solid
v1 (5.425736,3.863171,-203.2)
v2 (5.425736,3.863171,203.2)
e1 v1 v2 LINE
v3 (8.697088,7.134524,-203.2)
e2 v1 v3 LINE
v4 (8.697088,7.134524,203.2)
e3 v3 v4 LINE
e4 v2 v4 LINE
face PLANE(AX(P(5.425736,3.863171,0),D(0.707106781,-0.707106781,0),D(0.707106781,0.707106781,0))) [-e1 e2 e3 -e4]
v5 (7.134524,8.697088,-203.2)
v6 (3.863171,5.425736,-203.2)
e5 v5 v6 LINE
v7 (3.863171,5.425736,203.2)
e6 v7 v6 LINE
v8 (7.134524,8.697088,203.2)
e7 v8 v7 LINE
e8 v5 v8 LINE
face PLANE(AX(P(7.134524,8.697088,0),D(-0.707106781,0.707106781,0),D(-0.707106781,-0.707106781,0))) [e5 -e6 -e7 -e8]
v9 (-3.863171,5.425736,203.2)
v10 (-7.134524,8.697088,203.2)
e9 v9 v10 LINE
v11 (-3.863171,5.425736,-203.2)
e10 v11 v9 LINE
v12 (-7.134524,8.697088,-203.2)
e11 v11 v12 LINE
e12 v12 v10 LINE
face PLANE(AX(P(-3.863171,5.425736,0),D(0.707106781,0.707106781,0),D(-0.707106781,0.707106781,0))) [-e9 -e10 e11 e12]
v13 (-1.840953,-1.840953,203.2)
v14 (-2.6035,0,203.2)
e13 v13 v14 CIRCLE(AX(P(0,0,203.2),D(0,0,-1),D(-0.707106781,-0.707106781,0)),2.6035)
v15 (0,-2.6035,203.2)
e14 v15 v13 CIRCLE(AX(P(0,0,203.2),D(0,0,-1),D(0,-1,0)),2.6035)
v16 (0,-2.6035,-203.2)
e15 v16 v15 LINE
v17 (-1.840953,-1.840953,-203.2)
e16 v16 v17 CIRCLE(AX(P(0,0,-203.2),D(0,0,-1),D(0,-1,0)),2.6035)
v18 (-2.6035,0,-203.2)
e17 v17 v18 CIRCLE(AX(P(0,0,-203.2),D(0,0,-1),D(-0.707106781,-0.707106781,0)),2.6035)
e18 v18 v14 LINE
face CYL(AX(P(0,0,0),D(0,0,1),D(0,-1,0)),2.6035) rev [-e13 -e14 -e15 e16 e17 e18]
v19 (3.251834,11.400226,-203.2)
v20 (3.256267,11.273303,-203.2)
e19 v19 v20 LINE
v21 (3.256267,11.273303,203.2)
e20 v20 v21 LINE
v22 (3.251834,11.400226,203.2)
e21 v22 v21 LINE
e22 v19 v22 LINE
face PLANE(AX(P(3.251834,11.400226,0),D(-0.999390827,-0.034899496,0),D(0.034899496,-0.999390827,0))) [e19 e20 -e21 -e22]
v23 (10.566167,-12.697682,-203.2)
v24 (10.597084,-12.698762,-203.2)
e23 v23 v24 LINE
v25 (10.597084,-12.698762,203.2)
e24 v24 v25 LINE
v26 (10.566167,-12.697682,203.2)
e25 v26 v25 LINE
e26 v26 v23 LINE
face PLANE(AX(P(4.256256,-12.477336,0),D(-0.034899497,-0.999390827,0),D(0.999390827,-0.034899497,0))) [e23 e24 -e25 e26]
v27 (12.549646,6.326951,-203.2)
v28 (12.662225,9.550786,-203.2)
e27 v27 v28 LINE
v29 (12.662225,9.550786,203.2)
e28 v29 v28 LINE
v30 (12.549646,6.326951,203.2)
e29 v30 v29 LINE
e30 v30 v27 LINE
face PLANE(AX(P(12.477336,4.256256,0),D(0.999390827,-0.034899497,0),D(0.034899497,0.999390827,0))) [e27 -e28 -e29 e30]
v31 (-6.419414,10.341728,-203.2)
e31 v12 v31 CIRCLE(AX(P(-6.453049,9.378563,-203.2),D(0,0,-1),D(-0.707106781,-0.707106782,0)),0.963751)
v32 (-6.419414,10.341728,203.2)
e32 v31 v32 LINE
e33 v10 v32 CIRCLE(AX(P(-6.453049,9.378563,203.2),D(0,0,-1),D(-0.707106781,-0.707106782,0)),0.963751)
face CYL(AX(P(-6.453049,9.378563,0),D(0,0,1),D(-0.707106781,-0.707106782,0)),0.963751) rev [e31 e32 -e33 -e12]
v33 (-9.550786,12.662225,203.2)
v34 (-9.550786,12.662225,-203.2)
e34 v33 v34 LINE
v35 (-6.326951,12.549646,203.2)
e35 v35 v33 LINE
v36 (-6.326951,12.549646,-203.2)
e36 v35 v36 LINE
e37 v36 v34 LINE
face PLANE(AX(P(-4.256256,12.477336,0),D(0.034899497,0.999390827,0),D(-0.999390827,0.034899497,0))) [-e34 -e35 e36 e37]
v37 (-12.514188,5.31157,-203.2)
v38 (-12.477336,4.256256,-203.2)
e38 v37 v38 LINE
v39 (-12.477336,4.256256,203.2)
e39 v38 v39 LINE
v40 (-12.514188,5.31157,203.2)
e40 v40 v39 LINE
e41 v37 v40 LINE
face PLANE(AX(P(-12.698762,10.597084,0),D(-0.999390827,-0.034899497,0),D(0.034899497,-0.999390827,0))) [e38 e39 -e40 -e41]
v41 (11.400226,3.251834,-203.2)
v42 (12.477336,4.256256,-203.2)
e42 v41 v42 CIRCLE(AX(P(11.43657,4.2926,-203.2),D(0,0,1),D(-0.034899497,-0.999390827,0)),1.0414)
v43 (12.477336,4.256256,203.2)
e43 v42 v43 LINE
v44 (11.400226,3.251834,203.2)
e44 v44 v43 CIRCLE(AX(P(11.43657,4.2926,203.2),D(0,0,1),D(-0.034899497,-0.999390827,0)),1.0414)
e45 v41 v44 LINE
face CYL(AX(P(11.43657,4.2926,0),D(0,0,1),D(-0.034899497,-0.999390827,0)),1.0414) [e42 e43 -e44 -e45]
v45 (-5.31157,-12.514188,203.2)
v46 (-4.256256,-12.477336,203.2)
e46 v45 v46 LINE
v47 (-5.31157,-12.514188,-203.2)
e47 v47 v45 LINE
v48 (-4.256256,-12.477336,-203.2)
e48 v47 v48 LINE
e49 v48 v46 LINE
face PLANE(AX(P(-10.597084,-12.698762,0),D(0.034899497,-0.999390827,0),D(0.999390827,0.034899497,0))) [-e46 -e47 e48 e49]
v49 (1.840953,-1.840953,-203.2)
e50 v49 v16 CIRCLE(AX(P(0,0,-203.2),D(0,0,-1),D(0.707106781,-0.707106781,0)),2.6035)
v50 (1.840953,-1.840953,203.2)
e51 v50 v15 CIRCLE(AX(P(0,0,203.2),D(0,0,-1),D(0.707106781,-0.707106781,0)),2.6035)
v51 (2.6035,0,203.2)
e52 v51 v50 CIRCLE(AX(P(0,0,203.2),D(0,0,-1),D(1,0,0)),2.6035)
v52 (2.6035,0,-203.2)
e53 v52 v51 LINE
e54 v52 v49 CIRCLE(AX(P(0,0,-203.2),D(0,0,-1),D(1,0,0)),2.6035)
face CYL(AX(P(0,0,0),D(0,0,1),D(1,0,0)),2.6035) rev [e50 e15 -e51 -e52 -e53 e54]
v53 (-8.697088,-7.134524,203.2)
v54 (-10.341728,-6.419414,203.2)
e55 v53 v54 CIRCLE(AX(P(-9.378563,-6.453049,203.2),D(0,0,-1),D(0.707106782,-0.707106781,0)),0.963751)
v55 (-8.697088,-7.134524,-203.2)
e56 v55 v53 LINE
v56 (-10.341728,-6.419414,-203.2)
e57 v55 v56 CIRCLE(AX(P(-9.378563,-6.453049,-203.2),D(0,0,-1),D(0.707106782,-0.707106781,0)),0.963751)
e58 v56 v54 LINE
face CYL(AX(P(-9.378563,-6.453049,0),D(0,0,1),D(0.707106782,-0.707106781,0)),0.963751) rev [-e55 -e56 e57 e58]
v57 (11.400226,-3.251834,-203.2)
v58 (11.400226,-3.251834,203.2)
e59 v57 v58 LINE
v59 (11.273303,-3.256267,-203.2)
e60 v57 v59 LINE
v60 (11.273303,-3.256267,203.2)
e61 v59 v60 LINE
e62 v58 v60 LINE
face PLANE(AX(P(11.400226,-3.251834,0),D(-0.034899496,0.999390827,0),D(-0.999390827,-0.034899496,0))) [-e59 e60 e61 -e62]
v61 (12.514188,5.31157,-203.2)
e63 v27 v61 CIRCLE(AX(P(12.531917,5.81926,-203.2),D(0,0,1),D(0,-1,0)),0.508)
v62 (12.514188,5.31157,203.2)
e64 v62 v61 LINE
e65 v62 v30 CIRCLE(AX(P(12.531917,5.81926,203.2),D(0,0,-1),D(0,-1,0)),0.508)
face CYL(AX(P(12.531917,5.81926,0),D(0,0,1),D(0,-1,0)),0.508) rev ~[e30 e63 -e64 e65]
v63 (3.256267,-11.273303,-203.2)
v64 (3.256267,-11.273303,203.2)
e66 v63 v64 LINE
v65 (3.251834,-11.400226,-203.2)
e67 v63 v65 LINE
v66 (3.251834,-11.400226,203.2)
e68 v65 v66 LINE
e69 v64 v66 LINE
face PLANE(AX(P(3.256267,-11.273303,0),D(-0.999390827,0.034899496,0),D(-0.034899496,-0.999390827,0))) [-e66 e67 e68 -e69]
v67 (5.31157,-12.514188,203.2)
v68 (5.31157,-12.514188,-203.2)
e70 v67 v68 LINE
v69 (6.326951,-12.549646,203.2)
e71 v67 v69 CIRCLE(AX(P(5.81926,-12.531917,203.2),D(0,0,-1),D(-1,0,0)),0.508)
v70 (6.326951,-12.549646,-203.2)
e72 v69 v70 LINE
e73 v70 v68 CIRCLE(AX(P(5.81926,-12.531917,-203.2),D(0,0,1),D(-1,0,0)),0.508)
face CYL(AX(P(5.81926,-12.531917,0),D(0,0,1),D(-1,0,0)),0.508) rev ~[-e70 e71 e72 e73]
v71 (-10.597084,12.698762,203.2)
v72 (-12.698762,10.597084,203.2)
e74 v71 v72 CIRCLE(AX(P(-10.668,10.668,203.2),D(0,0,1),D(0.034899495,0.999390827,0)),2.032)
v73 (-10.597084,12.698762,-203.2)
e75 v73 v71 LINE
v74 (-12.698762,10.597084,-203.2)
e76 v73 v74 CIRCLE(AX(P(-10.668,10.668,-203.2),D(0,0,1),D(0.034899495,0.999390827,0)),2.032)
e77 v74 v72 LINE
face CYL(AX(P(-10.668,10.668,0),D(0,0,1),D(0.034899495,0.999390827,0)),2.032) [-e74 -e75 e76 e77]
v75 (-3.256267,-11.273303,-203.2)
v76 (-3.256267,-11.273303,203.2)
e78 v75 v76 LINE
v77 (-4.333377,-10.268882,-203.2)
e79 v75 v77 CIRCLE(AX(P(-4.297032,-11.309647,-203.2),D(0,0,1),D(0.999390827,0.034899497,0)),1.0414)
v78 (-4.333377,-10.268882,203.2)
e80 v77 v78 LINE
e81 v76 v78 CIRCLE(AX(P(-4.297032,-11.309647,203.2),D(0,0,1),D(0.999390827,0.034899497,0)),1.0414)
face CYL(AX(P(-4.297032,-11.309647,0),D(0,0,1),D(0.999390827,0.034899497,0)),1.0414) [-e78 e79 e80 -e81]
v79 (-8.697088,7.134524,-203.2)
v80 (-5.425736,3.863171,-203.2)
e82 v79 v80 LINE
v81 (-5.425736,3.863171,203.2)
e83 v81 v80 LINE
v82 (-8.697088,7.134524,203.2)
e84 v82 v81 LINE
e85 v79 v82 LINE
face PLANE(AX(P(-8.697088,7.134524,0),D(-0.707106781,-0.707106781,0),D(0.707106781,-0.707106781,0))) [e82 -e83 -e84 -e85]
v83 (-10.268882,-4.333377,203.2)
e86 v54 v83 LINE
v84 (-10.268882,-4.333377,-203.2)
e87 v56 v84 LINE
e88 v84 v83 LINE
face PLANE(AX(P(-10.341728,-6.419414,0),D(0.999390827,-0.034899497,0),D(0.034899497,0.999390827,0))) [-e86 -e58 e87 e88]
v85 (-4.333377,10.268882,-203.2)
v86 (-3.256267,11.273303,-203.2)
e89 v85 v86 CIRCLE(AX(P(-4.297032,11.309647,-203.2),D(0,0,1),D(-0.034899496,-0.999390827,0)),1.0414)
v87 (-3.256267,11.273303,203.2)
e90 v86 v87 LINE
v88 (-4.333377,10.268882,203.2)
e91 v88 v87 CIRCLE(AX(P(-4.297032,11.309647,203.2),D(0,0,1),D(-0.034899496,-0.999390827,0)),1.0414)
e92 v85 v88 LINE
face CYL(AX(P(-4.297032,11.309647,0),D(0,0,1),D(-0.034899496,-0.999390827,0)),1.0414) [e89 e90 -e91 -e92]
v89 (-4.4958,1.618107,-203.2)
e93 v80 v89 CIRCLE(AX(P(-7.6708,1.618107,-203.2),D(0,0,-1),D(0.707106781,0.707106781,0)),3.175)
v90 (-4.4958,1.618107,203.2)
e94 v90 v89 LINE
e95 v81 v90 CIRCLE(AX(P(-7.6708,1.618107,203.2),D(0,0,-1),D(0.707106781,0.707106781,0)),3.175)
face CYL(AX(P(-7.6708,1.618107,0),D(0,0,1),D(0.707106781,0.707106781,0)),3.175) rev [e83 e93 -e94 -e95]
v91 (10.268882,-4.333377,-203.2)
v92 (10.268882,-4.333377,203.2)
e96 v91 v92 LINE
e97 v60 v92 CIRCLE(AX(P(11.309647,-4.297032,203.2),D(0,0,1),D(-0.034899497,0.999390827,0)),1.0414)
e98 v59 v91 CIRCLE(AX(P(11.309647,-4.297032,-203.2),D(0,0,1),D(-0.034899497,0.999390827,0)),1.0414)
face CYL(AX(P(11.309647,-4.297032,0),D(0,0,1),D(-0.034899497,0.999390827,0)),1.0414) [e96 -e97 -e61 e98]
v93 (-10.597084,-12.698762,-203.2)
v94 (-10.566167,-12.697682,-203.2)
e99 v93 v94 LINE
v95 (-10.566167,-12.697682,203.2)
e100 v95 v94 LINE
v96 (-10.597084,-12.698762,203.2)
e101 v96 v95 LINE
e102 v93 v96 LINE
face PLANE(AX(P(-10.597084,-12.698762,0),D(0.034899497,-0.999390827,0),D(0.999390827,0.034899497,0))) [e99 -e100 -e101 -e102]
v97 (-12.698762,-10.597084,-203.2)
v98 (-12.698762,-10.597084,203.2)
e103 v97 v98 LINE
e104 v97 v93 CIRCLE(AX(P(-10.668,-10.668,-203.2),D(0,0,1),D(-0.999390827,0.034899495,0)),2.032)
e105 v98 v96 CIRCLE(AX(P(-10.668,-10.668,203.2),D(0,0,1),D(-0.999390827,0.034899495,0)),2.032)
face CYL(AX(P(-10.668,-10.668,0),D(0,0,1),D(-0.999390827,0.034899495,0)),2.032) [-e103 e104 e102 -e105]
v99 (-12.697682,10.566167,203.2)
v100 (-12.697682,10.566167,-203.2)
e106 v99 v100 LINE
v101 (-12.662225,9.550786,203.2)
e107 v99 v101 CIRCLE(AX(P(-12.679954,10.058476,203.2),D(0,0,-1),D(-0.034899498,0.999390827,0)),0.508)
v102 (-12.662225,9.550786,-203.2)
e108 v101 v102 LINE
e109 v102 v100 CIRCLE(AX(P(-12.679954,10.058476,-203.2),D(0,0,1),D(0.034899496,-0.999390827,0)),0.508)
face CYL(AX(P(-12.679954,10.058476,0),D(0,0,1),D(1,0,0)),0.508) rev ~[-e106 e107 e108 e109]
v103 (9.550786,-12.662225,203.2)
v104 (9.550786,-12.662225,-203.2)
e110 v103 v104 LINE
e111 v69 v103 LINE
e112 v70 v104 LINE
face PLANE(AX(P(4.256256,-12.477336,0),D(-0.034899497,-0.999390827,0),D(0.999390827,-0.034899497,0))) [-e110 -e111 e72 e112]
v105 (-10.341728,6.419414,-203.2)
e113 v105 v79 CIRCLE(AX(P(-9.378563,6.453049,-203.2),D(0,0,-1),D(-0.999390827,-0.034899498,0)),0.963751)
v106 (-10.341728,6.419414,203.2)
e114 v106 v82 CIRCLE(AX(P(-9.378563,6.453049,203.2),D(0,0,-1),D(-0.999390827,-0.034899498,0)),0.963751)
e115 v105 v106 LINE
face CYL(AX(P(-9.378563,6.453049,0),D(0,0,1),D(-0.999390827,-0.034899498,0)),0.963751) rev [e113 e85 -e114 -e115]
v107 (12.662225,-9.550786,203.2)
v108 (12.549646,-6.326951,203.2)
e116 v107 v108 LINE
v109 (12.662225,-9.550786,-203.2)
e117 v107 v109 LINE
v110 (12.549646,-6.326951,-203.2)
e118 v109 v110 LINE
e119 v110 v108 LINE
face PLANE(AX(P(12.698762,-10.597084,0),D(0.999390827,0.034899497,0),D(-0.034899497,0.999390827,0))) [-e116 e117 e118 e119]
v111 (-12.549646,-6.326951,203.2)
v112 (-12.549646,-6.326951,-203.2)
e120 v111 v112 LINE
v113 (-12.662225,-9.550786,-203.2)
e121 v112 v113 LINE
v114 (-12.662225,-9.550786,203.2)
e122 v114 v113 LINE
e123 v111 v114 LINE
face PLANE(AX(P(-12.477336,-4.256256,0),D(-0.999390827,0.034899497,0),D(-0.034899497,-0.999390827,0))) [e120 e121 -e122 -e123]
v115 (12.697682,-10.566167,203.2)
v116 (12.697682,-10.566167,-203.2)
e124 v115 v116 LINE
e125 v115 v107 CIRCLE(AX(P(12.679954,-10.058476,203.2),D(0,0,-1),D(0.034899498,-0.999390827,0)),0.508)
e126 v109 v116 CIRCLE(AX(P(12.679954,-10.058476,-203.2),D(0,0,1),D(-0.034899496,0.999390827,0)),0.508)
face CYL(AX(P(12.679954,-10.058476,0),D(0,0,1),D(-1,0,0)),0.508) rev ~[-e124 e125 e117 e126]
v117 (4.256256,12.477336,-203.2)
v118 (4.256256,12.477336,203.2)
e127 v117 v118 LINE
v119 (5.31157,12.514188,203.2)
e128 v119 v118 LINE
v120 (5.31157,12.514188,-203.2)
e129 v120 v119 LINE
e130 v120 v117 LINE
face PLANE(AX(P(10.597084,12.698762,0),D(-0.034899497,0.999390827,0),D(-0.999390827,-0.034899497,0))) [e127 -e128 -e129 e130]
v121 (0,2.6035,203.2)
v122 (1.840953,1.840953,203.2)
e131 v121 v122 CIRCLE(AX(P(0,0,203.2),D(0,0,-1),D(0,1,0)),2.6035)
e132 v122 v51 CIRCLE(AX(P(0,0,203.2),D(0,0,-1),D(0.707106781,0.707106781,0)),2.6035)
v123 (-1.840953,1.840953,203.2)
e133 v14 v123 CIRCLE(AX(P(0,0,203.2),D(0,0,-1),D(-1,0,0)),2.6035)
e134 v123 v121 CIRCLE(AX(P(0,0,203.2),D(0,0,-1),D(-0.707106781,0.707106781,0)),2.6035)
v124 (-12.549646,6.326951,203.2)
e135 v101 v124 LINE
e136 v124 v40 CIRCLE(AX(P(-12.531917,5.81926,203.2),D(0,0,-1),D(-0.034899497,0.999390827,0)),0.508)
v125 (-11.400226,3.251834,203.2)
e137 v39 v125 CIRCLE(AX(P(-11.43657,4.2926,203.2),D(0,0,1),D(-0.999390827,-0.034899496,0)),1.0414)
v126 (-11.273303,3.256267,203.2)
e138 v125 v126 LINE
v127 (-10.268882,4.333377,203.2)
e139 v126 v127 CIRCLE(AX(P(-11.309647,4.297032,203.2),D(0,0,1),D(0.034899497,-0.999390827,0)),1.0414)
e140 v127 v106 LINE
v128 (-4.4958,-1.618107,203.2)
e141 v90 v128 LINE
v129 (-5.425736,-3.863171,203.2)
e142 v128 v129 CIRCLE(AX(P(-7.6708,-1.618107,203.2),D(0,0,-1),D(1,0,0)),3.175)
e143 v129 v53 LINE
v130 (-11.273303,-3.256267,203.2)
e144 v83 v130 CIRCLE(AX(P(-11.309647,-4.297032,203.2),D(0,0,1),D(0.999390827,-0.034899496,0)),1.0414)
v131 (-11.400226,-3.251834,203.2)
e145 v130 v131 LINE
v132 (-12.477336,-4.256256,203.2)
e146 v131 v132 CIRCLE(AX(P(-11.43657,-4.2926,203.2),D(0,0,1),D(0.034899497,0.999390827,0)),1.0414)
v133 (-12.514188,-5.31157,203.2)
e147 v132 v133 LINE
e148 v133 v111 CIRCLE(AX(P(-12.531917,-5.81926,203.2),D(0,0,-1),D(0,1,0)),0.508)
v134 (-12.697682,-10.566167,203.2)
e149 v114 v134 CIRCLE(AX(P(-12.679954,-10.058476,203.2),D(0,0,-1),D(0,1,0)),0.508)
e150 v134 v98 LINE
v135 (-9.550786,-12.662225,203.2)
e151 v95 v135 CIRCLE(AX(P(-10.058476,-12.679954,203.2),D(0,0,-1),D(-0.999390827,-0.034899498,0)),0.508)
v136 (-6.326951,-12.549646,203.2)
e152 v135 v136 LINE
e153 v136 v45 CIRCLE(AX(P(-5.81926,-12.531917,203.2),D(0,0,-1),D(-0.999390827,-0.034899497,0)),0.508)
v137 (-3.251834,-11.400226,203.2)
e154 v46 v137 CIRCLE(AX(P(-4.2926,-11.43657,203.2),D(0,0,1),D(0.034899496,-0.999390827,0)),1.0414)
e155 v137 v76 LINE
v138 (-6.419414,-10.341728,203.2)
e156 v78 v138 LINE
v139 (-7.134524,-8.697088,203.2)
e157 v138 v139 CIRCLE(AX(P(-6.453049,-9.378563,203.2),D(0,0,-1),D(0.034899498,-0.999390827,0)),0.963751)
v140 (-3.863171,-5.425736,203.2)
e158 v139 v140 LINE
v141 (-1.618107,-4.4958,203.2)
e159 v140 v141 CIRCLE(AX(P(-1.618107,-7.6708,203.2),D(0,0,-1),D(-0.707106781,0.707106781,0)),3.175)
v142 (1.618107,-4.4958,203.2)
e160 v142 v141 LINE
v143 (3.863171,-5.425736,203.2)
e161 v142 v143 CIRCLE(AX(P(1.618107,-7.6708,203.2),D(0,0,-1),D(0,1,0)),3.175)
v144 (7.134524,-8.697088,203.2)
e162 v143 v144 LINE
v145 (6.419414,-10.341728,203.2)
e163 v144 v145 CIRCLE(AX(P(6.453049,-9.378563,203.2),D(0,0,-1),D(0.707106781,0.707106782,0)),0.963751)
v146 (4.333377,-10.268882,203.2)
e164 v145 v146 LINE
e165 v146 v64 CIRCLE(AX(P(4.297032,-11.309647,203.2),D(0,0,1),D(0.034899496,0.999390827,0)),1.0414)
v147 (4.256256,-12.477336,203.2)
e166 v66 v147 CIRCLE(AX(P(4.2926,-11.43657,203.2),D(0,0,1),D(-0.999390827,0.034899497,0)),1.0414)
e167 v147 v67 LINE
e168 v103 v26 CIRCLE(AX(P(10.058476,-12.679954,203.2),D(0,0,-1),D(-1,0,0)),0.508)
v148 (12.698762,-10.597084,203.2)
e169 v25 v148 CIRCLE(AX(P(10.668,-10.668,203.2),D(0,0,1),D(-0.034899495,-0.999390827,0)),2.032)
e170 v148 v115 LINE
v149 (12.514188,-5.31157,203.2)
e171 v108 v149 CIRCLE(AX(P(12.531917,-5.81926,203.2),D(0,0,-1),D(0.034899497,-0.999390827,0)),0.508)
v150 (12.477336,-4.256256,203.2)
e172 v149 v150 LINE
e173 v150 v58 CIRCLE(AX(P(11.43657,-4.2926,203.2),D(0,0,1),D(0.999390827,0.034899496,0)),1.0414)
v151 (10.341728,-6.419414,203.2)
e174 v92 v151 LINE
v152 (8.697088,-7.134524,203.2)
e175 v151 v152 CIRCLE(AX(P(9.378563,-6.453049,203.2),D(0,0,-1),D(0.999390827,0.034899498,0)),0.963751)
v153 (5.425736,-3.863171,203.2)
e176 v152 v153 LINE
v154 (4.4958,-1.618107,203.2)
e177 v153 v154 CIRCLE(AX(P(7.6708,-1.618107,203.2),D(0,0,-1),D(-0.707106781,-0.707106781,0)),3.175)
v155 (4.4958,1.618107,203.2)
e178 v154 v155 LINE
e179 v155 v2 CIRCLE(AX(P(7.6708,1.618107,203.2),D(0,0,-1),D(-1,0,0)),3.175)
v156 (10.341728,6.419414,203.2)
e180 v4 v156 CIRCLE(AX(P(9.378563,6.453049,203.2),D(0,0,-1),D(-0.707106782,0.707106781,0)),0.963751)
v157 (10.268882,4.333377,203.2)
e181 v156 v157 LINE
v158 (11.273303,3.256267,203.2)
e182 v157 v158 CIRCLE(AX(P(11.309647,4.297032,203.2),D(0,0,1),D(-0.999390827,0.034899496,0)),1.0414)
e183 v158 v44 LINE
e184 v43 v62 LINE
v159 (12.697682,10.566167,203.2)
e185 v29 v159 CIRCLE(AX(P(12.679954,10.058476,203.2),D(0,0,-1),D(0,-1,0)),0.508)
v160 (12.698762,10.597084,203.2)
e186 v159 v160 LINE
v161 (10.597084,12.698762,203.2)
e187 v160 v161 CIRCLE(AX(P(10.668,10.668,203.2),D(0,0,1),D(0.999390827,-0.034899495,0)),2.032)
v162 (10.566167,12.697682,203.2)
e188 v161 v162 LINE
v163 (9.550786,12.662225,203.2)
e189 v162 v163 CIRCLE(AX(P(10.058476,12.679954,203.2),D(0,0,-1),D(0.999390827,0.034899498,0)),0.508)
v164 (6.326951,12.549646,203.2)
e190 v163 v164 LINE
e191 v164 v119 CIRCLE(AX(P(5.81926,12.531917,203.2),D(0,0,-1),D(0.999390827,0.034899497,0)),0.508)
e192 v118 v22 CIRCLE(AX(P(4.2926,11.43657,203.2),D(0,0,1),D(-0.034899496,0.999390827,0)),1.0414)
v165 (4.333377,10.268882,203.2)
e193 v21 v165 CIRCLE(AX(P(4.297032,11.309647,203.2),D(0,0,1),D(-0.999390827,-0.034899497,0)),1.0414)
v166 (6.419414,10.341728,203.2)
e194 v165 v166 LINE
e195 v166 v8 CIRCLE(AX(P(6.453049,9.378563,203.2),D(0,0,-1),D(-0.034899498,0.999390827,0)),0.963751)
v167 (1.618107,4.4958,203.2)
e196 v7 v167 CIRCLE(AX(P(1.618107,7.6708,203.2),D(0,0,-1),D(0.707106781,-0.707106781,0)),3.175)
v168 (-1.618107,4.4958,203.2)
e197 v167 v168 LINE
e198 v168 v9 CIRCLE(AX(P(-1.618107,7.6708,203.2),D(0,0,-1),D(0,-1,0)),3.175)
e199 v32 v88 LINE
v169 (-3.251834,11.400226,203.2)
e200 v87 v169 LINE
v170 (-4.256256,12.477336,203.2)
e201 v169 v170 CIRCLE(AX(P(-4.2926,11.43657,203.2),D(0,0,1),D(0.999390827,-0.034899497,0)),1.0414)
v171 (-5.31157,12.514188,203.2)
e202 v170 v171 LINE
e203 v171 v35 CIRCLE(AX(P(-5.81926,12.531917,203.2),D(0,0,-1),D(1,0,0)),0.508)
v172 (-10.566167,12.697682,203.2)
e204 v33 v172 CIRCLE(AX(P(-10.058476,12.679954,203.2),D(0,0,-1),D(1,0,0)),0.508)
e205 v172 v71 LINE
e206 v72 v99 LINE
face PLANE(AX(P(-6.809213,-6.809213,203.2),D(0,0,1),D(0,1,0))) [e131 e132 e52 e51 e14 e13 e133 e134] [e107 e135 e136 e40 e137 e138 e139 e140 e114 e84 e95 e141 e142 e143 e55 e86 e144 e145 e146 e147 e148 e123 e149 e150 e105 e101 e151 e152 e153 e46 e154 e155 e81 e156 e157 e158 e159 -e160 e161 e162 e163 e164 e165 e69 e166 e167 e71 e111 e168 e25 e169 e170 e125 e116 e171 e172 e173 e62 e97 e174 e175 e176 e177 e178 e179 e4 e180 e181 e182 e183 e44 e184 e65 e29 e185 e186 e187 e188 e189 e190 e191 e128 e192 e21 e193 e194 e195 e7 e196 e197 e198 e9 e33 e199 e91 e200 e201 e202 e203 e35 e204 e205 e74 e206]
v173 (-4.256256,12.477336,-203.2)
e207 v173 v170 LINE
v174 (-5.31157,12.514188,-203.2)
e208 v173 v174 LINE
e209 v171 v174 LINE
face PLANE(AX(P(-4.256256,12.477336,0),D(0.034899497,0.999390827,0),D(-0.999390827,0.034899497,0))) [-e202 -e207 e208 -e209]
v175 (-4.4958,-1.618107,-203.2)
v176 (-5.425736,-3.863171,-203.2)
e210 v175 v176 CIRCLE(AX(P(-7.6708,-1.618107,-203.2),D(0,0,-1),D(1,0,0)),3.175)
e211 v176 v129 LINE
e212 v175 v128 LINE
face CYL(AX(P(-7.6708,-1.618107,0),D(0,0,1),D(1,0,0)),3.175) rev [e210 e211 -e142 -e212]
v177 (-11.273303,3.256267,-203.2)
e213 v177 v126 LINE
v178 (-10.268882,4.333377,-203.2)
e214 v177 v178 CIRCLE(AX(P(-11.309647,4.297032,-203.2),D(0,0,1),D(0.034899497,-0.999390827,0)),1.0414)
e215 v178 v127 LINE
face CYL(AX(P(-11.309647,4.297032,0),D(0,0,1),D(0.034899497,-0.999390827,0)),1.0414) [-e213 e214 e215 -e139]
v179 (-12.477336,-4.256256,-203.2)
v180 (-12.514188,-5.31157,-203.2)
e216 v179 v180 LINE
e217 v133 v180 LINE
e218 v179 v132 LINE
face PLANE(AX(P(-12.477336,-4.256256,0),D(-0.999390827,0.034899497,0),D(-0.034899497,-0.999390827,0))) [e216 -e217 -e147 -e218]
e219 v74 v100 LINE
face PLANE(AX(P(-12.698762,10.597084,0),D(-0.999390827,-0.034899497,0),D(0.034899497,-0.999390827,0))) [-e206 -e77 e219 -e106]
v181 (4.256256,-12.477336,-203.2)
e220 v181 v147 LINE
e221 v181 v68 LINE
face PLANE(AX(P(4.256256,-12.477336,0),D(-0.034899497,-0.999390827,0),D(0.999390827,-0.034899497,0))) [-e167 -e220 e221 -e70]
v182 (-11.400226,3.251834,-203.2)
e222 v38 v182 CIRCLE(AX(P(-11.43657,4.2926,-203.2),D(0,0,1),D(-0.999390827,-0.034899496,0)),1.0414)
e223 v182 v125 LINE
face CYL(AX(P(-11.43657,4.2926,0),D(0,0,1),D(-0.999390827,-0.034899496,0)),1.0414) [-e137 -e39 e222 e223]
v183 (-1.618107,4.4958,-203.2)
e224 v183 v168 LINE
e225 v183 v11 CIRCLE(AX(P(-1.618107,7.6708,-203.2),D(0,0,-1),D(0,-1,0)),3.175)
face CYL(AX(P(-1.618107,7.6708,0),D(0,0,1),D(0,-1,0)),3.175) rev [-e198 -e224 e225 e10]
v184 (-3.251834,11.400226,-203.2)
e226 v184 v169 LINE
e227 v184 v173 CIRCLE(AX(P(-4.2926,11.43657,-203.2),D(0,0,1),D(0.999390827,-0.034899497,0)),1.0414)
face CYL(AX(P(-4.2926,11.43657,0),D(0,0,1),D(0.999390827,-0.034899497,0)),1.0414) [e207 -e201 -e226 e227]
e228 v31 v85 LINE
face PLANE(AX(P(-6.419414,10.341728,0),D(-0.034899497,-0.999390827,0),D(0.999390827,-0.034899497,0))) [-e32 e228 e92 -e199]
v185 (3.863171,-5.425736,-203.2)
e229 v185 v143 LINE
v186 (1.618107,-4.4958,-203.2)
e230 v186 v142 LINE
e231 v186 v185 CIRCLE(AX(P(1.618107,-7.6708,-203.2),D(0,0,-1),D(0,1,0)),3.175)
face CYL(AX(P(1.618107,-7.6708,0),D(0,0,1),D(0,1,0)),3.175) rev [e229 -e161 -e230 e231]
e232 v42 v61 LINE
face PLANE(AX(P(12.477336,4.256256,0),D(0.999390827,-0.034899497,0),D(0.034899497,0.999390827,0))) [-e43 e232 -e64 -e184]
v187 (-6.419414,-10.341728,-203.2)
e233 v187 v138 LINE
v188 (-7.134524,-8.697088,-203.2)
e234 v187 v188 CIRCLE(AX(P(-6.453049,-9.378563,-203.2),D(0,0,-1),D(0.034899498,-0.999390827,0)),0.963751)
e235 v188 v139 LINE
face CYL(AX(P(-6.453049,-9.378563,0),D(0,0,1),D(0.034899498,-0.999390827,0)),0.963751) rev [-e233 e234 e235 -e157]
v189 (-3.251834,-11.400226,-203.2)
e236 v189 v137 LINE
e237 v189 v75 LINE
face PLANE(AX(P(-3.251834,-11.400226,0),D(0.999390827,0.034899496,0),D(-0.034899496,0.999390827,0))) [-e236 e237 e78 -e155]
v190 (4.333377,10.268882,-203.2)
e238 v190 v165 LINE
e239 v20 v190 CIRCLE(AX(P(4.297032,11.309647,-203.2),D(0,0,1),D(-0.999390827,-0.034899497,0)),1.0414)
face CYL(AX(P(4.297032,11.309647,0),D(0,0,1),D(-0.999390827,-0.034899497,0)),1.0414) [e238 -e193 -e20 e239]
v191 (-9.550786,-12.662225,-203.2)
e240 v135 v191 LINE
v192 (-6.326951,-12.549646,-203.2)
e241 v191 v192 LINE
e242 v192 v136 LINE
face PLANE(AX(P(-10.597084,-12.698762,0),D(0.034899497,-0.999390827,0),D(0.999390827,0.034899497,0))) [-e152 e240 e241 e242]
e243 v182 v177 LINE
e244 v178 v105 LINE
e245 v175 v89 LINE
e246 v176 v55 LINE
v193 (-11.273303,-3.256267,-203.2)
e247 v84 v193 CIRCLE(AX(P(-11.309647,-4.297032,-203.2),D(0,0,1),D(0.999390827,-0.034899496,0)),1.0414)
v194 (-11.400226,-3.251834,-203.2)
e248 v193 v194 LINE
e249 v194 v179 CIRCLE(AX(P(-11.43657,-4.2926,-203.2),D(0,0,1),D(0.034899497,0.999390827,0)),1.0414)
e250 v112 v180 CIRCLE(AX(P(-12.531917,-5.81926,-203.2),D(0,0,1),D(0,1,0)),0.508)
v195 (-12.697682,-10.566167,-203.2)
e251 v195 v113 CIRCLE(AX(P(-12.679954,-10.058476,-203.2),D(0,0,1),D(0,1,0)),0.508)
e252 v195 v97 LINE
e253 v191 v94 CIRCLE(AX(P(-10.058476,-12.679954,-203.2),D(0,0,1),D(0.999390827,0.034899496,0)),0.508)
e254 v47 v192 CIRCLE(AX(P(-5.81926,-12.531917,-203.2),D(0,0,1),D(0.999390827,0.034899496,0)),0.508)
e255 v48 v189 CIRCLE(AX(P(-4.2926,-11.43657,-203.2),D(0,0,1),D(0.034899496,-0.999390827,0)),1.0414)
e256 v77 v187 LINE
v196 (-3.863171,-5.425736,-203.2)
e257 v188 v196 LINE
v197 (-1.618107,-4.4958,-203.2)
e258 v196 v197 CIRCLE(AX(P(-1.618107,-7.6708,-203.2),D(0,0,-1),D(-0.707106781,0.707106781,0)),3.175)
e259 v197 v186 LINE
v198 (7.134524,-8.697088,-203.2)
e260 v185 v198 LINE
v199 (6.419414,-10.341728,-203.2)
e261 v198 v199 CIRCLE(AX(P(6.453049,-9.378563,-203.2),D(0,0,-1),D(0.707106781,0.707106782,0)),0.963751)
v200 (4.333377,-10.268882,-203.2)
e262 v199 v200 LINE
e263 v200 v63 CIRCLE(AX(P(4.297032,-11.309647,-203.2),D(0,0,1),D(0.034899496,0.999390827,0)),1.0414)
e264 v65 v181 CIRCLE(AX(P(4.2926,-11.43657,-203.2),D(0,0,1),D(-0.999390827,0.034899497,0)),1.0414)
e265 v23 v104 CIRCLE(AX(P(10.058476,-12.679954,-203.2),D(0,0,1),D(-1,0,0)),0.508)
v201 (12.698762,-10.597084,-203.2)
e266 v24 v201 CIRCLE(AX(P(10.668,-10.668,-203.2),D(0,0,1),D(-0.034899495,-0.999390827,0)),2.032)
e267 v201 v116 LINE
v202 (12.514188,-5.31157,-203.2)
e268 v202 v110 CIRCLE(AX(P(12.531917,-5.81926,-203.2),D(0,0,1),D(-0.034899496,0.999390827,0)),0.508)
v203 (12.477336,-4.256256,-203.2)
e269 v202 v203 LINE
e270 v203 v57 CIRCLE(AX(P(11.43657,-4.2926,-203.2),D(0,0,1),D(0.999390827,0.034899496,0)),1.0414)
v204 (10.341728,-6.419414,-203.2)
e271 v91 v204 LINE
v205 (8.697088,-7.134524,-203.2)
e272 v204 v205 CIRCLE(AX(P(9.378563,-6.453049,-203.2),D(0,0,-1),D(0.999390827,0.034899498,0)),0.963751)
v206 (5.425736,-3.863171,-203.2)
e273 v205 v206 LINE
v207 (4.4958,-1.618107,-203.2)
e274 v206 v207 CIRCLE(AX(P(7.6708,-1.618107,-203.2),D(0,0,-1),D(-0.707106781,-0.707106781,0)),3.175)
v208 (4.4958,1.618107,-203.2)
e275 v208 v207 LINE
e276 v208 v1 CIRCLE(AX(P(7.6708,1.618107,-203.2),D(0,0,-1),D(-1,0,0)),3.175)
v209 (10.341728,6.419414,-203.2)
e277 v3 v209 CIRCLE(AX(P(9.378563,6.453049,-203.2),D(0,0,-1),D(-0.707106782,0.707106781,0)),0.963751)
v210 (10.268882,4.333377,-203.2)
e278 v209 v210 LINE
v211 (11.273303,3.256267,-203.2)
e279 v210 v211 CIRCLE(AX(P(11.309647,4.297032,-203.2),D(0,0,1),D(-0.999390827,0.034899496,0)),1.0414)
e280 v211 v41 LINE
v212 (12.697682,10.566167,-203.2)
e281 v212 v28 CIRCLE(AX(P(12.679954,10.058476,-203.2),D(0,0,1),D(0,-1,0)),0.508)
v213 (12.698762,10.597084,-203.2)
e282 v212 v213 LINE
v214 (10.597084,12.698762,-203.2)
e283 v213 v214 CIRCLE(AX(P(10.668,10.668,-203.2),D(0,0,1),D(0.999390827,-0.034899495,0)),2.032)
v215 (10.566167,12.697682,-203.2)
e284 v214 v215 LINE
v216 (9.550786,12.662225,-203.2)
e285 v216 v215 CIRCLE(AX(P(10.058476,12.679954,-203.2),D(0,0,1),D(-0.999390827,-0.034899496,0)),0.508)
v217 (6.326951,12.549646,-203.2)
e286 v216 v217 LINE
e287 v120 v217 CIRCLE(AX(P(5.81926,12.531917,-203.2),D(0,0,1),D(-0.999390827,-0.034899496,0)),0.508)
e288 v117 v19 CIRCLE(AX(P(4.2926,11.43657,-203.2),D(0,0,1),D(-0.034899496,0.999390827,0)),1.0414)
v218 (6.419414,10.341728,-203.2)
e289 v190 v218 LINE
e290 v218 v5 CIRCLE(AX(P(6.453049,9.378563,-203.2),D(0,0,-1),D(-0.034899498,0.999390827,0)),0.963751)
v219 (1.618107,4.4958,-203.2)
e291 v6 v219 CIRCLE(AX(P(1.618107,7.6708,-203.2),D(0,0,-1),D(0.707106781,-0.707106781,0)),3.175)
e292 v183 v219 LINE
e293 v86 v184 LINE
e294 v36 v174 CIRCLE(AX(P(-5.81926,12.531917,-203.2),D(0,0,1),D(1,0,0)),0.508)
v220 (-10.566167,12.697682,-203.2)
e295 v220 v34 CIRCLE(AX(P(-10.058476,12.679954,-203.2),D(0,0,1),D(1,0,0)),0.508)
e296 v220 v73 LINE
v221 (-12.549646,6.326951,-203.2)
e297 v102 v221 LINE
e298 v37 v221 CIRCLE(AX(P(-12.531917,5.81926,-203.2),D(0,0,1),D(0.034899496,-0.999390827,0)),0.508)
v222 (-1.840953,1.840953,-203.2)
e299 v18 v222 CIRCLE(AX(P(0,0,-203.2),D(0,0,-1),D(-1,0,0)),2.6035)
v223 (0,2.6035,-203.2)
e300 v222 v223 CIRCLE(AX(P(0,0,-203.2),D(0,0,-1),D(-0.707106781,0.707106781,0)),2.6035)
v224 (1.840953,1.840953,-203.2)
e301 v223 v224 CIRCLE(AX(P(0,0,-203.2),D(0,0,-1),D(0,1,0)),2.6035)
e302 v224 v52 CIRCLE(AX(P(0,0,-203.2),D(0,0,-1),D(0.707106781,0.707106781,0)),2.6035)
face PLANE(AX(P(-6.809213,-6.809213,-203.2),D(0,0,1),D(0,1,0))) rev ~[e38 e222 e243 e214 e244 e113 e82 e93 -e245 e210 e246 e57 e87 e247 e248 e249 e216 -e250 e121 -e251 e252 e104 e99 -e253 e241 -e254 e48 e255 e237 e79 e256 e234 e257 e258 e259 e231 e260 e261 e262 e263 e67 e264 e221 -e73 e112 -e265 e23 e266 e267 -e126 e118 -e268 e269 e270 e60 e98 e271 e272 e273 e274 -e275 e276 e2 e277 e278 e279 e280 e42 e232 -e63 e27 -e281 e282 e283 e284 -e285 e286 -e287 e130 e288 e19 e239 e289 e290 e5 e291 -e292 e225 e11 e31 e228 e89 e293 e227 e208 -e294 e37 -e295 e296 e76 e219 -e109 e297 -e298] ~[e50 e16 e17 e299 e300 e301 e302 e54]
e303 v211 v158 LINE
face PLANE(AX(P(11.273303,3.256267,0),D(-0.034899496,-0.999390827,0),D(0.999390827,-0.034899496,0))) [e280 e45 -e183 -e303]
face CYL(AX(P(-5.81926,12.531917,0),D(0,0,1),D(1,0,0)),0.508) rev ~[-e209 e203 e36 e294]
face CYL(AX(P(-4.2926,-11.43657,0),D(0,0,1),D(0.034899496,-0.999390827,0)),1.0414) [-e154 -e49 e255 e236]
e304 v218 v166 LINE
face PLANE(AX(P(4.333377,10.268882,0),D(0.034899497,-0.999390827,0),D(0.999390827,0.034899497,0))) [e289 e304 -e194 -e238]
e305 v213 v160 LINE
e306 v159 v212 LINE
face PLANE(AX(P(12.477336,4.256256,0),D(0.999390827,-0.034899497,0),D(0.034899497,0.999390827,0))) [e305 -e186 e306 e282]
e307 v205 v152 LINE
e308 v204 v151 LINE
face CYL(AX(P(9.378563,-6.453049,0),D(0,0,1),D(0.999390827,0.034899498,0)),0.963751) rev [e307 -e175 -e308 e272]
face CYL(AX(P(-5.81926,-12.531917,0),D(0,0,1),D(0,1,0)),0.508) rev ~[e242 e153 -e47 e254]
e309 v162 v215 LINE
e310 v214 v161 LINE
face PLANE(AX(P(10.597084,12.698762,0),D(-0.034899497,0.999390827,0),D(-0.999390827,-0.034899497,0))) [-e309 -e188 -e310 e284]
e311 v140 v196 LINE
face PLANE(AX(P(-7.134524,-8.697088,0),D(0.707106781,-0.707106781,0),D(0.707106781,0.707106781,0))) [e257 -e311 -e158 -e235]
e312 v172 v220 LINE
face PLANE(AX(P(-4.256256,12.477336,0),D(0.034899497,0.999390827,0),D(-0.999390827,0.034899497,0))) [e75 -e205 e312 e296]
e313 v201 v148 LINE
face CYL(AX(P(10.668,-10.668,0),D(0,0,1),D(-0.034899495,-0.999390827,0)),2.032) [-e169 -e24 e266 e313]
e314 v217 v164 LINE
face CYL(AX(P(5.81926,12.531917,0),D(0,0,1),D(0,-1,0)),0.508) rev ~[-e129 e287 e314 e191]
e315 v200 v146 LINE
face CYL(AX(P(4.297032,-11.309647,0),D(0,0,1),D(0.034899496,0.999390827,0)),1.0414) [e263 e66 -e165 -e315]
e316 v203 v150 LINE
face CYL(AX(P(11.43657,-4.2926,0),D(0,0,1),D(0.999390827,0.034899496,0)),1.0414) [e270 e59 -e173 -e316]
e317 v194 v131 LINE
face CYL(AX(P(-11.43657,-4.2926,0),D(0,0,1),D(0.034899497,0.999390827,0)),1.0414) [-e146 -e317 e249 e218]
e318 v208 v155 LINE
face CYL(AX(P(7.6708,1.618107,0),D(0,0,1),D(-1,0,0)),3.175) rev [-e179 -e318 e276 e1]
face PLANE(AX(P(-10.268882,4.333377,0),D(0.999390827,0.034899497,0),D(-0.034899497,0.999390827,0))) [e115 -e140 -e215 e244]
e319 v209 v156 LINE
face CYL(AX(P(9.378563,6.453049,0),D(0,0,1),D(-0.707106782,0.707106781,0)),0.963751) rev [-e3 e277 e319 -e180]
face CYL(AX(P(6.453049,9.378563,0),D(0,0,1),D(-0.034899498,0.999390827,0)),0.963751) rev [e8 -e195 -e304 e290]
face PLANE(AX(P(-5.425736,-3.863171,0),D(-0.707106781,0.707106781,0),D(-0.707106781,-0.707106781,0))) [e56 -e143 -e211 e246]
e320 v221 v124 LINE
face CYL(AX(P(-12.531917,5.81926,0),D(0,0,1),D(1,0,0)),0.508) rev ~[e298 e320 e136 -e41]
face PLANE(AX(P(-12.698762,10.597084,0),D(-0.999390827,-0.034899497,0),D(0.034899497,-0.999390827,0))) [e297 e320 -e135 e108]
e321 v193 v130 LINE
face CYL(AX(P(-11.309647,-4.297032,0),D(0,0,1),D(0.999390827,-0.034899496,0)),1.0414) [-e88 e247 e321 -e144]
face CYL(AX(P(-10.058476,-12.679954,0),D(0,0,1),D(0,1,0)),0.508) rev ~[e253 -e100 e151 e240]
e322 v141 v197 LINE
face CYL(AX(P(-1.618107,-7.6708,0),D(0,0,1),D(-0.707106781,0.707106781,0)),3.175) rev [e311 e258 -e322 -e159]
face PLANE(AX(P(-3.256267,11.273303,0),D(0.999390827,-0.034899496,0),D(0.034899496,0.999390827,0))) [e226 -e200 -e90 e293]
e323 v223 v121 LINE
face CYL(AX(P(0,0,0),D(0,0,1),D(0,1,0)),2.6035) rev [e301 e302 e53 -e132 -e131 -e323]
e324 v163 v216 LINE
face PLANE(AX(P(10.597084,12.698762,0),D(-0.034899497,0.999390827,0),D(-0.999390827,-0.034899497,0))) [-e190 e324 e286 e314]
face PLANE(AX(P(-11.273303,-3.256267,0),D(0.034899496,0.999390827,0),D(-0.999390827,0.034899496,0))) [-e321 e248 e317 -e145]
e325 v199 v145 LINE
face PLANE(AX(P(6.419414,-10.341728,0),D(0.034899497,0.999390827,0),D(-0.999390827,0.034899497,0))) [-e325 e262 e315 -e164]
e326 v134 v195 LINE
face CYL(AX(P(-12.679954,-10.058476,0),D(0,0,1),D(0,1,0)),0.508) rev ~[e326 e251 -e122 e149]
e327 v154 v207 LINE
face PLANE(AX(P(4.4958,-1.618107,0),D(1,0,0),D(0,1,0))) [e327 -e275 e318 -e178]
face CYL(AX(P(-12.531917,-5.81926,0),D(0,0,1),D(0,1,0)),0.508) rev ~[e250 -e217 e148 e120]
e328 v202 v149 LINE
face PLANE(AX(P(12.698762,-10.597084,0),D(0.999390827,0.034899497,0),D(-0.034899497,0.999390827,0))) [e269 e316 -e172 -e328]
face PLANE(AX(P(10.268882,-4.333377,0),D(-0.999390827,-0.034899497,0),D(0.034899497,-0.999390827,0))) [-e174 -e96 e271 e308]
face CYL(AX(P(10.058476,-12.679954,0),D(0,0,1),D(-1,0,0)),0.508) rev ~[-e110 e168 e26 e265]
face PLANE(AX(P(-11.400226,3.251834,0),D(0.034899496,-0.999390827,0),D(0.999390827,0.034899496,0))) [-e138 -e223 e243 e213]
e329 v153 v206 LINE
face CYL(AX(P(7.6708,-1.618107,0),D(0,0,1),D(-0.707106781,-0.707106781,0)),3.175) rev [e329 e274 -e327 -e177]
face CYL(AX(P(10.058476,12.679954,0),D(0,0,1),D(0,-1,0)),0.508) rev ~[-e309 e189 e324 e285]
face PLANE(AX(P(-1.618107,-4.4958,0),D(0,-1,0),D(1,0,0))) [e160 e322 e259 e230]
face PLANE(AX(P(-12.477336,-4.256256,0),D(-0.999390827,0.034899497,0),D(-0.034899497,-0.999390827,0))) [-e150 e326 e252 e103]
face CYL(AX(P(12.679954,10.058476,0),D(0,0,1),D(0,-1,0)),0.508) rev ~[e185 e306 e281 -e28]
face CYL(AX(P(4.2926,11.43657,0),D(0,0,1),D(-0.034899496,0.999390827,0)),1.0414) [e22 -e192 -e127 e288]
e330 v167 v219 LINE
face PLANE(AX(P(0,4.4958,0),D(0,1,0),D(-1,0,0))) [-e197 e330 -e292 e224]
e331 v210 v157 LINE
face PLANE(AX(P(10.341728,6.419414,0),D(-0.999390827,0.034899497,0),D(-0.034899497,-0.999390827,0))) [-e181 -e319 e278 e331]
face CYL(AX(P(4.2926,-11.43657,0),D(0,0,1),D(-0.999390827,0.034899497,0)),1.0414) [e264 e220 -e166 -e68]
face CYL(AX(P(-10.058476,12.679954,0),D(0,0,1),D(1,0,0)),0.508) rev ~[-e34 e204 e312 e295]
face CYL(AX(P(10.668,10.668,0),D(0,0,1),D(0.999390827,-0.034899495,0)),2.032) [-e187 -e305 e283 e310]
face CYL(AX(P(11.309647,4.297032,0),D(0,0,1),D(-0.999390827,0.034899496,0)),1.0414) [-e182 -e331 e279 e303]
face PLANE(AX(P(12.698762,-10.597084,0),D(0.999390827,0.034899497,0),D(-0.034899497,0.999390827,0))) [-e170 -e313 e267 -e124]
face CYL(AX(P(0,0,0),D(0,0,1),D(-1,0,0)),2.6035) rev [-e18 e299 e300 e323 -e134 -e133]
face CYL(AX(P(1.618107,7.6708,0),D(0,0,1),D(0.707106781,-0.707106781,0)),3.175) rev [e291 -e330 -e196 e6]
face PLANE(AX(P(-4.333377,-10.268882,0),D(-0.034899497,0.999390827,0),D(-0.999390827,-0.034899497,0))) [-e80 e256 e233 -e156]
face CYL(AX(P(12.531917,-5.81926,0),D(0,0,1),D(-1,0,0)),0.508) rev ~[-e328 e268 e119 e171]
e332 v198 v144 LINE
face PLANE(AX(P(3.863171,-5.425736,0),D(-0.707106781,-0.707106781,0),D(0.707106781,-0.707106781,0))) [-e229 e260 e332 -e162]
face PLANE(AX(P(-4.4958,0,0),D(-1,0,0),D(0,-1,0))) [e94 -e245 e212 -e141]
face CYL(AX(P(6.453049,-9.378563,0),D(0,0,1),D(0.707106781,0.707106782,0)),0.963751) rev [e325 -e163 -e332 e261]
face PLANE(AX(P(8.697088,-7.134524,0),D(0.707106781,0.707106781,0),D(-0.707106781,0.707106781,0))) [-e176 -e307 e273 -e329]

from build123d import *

# Parameters (mm, degrees)
BOSS_EXTRUDE1_DEPTH = 203.2
SKETCH4_R           = 0.508
CUT_EXTRUDE1_DEPTH  = 204.992205733
CIRPATTERN1_COUNT   = 4


with BuildPart() as part:
    # Sketch3 → Boss-Extrude1 (new, symmetric)
    with BuildSketch(Plane.XY):
        with BuildLine():
            Line((-4.4958, 0), (-2.6035, 0))
            ThreePointArc((-2.6035, 0), (-2.405320363, 0.996316316), (-1.840952505, 1.840952505))
            ThreePointArc((-1.840952505, 1.840952505), (-0.996316316, 2.405320363), (0, 2.6035))
            Line((0, 2.6035), (0, 4.4958))
            Line((0, 4.4958), (-1.618107374, 4.4958))
            ThreePointArc((-1.618107374, 4.4958), (-2.833127272, 4.737482484), (-3.863171405, 5.42573597))
            Line((-3.863171405, 5.42573597), (-7.134523758, 8.697088323))
            ThreePointArc((-7.134523758, 8.697088323), (-7.336866533, 9.762858418), (-6.419414188, 10.341727737))
            Line((-6.419414188, 10.341727737), (-4.333376572, 10.268881698))
            ThreePointArc((-4.333376572, 10.268881698), (-3.586799144, 10.548015561), (-3.256266629, 11.27330297))
            Line((-3.256266629, 11.27330297), (-3.251834393, 11.400225605))
            ThreePointArc((-3.251834393, 11.400225605), (-3.530968255, 12.146803033), (-4.256255664, 12.477335548))
            Line((-4.256255664, 12.477335548), (-10.597084223, 12.698762161))
            ThreePointArc((-10.597084223, 12.698762161), (-12.104840979, 12.104840979), (-12.698762161, 10.597084223))
            Line((-12.698762161, 10.597084223), (-12.477335548, 4.256255664))
            ThreePointArc((-12.477335548, 4.256255664), (-12.146803033, 3.530968255), (-11.400225605, 3.251834393))
            Line((-11.400225605, 3.251834393), (-11.27330297, 3.256266629))
            ThreePointArc((-11.27330297, 3.256266629), (-10.548015561, 3.586799144), (-10.268881698, 4.333376572))
            Line((-10.268881698, 4.333376572), (-10.341727737, 6.419414188))
            ThreePointArc((-10.341727737, 6.419414188), (-9.762858418, 7.336866533), (-8.697088323, 7.134523758))
            Line((-8.697088323, 7.134523758), (-5.42573597, 3.863171405))
            ThreePointArc((-5.42573597, 3.863171405), (-4.737482484, 2.833127272), (-4.4958, 1.618107374))
            Line((-4.4958, 1.618107374), (-4.4958, 0))
        make_face()
    boss_extrude1 = extrude(amount=BOSS_EXTRUDE1_DEPTH, both=True)

    # Sketch4 → Cut-Extrude1 (cut, symmetric)
    with BuildSketch(Plane.XY):
        with Locations((-5.819260055, 12.531916864)):
            Circle(SKETCH4_R)
        with Locations((-10.058476065, 12.679953549)):
            Circle(SKETCH4_R)
        with Locations((-12.679953549, 10.058476065)):
            Circle(SKETCH4_R)
        with Locations((-12.531916864, 5.819260055)):
            Circle(SKETCH4_R)
    cut_extrude1 = extrude(amount=CUT_EXTRUDE1_DEPTH, both=True, mode=Mode.SUBTRACT)

    # CirPattern1: Boss-Extrude1, Cut-Extrude1 ×4 about axis
    cirpattern1_axis = Axis((0, 0, 0), (0, 0, 1))
    add([boss_extrude1.rotate(cirpattern1_axis, i * 360 / CIRPATTERN1_COUNT) for i in range(1, CIRPATTERN1_COUNT)])
    add([cut_extrude1.rotate(cirpattern1_axis, i * 360 / CIRPATTERN1_COUNT) for i in range(1, CIRPATTERN1_COUNT)], mode=Mode.SUBTRACT)


solid = part.part
